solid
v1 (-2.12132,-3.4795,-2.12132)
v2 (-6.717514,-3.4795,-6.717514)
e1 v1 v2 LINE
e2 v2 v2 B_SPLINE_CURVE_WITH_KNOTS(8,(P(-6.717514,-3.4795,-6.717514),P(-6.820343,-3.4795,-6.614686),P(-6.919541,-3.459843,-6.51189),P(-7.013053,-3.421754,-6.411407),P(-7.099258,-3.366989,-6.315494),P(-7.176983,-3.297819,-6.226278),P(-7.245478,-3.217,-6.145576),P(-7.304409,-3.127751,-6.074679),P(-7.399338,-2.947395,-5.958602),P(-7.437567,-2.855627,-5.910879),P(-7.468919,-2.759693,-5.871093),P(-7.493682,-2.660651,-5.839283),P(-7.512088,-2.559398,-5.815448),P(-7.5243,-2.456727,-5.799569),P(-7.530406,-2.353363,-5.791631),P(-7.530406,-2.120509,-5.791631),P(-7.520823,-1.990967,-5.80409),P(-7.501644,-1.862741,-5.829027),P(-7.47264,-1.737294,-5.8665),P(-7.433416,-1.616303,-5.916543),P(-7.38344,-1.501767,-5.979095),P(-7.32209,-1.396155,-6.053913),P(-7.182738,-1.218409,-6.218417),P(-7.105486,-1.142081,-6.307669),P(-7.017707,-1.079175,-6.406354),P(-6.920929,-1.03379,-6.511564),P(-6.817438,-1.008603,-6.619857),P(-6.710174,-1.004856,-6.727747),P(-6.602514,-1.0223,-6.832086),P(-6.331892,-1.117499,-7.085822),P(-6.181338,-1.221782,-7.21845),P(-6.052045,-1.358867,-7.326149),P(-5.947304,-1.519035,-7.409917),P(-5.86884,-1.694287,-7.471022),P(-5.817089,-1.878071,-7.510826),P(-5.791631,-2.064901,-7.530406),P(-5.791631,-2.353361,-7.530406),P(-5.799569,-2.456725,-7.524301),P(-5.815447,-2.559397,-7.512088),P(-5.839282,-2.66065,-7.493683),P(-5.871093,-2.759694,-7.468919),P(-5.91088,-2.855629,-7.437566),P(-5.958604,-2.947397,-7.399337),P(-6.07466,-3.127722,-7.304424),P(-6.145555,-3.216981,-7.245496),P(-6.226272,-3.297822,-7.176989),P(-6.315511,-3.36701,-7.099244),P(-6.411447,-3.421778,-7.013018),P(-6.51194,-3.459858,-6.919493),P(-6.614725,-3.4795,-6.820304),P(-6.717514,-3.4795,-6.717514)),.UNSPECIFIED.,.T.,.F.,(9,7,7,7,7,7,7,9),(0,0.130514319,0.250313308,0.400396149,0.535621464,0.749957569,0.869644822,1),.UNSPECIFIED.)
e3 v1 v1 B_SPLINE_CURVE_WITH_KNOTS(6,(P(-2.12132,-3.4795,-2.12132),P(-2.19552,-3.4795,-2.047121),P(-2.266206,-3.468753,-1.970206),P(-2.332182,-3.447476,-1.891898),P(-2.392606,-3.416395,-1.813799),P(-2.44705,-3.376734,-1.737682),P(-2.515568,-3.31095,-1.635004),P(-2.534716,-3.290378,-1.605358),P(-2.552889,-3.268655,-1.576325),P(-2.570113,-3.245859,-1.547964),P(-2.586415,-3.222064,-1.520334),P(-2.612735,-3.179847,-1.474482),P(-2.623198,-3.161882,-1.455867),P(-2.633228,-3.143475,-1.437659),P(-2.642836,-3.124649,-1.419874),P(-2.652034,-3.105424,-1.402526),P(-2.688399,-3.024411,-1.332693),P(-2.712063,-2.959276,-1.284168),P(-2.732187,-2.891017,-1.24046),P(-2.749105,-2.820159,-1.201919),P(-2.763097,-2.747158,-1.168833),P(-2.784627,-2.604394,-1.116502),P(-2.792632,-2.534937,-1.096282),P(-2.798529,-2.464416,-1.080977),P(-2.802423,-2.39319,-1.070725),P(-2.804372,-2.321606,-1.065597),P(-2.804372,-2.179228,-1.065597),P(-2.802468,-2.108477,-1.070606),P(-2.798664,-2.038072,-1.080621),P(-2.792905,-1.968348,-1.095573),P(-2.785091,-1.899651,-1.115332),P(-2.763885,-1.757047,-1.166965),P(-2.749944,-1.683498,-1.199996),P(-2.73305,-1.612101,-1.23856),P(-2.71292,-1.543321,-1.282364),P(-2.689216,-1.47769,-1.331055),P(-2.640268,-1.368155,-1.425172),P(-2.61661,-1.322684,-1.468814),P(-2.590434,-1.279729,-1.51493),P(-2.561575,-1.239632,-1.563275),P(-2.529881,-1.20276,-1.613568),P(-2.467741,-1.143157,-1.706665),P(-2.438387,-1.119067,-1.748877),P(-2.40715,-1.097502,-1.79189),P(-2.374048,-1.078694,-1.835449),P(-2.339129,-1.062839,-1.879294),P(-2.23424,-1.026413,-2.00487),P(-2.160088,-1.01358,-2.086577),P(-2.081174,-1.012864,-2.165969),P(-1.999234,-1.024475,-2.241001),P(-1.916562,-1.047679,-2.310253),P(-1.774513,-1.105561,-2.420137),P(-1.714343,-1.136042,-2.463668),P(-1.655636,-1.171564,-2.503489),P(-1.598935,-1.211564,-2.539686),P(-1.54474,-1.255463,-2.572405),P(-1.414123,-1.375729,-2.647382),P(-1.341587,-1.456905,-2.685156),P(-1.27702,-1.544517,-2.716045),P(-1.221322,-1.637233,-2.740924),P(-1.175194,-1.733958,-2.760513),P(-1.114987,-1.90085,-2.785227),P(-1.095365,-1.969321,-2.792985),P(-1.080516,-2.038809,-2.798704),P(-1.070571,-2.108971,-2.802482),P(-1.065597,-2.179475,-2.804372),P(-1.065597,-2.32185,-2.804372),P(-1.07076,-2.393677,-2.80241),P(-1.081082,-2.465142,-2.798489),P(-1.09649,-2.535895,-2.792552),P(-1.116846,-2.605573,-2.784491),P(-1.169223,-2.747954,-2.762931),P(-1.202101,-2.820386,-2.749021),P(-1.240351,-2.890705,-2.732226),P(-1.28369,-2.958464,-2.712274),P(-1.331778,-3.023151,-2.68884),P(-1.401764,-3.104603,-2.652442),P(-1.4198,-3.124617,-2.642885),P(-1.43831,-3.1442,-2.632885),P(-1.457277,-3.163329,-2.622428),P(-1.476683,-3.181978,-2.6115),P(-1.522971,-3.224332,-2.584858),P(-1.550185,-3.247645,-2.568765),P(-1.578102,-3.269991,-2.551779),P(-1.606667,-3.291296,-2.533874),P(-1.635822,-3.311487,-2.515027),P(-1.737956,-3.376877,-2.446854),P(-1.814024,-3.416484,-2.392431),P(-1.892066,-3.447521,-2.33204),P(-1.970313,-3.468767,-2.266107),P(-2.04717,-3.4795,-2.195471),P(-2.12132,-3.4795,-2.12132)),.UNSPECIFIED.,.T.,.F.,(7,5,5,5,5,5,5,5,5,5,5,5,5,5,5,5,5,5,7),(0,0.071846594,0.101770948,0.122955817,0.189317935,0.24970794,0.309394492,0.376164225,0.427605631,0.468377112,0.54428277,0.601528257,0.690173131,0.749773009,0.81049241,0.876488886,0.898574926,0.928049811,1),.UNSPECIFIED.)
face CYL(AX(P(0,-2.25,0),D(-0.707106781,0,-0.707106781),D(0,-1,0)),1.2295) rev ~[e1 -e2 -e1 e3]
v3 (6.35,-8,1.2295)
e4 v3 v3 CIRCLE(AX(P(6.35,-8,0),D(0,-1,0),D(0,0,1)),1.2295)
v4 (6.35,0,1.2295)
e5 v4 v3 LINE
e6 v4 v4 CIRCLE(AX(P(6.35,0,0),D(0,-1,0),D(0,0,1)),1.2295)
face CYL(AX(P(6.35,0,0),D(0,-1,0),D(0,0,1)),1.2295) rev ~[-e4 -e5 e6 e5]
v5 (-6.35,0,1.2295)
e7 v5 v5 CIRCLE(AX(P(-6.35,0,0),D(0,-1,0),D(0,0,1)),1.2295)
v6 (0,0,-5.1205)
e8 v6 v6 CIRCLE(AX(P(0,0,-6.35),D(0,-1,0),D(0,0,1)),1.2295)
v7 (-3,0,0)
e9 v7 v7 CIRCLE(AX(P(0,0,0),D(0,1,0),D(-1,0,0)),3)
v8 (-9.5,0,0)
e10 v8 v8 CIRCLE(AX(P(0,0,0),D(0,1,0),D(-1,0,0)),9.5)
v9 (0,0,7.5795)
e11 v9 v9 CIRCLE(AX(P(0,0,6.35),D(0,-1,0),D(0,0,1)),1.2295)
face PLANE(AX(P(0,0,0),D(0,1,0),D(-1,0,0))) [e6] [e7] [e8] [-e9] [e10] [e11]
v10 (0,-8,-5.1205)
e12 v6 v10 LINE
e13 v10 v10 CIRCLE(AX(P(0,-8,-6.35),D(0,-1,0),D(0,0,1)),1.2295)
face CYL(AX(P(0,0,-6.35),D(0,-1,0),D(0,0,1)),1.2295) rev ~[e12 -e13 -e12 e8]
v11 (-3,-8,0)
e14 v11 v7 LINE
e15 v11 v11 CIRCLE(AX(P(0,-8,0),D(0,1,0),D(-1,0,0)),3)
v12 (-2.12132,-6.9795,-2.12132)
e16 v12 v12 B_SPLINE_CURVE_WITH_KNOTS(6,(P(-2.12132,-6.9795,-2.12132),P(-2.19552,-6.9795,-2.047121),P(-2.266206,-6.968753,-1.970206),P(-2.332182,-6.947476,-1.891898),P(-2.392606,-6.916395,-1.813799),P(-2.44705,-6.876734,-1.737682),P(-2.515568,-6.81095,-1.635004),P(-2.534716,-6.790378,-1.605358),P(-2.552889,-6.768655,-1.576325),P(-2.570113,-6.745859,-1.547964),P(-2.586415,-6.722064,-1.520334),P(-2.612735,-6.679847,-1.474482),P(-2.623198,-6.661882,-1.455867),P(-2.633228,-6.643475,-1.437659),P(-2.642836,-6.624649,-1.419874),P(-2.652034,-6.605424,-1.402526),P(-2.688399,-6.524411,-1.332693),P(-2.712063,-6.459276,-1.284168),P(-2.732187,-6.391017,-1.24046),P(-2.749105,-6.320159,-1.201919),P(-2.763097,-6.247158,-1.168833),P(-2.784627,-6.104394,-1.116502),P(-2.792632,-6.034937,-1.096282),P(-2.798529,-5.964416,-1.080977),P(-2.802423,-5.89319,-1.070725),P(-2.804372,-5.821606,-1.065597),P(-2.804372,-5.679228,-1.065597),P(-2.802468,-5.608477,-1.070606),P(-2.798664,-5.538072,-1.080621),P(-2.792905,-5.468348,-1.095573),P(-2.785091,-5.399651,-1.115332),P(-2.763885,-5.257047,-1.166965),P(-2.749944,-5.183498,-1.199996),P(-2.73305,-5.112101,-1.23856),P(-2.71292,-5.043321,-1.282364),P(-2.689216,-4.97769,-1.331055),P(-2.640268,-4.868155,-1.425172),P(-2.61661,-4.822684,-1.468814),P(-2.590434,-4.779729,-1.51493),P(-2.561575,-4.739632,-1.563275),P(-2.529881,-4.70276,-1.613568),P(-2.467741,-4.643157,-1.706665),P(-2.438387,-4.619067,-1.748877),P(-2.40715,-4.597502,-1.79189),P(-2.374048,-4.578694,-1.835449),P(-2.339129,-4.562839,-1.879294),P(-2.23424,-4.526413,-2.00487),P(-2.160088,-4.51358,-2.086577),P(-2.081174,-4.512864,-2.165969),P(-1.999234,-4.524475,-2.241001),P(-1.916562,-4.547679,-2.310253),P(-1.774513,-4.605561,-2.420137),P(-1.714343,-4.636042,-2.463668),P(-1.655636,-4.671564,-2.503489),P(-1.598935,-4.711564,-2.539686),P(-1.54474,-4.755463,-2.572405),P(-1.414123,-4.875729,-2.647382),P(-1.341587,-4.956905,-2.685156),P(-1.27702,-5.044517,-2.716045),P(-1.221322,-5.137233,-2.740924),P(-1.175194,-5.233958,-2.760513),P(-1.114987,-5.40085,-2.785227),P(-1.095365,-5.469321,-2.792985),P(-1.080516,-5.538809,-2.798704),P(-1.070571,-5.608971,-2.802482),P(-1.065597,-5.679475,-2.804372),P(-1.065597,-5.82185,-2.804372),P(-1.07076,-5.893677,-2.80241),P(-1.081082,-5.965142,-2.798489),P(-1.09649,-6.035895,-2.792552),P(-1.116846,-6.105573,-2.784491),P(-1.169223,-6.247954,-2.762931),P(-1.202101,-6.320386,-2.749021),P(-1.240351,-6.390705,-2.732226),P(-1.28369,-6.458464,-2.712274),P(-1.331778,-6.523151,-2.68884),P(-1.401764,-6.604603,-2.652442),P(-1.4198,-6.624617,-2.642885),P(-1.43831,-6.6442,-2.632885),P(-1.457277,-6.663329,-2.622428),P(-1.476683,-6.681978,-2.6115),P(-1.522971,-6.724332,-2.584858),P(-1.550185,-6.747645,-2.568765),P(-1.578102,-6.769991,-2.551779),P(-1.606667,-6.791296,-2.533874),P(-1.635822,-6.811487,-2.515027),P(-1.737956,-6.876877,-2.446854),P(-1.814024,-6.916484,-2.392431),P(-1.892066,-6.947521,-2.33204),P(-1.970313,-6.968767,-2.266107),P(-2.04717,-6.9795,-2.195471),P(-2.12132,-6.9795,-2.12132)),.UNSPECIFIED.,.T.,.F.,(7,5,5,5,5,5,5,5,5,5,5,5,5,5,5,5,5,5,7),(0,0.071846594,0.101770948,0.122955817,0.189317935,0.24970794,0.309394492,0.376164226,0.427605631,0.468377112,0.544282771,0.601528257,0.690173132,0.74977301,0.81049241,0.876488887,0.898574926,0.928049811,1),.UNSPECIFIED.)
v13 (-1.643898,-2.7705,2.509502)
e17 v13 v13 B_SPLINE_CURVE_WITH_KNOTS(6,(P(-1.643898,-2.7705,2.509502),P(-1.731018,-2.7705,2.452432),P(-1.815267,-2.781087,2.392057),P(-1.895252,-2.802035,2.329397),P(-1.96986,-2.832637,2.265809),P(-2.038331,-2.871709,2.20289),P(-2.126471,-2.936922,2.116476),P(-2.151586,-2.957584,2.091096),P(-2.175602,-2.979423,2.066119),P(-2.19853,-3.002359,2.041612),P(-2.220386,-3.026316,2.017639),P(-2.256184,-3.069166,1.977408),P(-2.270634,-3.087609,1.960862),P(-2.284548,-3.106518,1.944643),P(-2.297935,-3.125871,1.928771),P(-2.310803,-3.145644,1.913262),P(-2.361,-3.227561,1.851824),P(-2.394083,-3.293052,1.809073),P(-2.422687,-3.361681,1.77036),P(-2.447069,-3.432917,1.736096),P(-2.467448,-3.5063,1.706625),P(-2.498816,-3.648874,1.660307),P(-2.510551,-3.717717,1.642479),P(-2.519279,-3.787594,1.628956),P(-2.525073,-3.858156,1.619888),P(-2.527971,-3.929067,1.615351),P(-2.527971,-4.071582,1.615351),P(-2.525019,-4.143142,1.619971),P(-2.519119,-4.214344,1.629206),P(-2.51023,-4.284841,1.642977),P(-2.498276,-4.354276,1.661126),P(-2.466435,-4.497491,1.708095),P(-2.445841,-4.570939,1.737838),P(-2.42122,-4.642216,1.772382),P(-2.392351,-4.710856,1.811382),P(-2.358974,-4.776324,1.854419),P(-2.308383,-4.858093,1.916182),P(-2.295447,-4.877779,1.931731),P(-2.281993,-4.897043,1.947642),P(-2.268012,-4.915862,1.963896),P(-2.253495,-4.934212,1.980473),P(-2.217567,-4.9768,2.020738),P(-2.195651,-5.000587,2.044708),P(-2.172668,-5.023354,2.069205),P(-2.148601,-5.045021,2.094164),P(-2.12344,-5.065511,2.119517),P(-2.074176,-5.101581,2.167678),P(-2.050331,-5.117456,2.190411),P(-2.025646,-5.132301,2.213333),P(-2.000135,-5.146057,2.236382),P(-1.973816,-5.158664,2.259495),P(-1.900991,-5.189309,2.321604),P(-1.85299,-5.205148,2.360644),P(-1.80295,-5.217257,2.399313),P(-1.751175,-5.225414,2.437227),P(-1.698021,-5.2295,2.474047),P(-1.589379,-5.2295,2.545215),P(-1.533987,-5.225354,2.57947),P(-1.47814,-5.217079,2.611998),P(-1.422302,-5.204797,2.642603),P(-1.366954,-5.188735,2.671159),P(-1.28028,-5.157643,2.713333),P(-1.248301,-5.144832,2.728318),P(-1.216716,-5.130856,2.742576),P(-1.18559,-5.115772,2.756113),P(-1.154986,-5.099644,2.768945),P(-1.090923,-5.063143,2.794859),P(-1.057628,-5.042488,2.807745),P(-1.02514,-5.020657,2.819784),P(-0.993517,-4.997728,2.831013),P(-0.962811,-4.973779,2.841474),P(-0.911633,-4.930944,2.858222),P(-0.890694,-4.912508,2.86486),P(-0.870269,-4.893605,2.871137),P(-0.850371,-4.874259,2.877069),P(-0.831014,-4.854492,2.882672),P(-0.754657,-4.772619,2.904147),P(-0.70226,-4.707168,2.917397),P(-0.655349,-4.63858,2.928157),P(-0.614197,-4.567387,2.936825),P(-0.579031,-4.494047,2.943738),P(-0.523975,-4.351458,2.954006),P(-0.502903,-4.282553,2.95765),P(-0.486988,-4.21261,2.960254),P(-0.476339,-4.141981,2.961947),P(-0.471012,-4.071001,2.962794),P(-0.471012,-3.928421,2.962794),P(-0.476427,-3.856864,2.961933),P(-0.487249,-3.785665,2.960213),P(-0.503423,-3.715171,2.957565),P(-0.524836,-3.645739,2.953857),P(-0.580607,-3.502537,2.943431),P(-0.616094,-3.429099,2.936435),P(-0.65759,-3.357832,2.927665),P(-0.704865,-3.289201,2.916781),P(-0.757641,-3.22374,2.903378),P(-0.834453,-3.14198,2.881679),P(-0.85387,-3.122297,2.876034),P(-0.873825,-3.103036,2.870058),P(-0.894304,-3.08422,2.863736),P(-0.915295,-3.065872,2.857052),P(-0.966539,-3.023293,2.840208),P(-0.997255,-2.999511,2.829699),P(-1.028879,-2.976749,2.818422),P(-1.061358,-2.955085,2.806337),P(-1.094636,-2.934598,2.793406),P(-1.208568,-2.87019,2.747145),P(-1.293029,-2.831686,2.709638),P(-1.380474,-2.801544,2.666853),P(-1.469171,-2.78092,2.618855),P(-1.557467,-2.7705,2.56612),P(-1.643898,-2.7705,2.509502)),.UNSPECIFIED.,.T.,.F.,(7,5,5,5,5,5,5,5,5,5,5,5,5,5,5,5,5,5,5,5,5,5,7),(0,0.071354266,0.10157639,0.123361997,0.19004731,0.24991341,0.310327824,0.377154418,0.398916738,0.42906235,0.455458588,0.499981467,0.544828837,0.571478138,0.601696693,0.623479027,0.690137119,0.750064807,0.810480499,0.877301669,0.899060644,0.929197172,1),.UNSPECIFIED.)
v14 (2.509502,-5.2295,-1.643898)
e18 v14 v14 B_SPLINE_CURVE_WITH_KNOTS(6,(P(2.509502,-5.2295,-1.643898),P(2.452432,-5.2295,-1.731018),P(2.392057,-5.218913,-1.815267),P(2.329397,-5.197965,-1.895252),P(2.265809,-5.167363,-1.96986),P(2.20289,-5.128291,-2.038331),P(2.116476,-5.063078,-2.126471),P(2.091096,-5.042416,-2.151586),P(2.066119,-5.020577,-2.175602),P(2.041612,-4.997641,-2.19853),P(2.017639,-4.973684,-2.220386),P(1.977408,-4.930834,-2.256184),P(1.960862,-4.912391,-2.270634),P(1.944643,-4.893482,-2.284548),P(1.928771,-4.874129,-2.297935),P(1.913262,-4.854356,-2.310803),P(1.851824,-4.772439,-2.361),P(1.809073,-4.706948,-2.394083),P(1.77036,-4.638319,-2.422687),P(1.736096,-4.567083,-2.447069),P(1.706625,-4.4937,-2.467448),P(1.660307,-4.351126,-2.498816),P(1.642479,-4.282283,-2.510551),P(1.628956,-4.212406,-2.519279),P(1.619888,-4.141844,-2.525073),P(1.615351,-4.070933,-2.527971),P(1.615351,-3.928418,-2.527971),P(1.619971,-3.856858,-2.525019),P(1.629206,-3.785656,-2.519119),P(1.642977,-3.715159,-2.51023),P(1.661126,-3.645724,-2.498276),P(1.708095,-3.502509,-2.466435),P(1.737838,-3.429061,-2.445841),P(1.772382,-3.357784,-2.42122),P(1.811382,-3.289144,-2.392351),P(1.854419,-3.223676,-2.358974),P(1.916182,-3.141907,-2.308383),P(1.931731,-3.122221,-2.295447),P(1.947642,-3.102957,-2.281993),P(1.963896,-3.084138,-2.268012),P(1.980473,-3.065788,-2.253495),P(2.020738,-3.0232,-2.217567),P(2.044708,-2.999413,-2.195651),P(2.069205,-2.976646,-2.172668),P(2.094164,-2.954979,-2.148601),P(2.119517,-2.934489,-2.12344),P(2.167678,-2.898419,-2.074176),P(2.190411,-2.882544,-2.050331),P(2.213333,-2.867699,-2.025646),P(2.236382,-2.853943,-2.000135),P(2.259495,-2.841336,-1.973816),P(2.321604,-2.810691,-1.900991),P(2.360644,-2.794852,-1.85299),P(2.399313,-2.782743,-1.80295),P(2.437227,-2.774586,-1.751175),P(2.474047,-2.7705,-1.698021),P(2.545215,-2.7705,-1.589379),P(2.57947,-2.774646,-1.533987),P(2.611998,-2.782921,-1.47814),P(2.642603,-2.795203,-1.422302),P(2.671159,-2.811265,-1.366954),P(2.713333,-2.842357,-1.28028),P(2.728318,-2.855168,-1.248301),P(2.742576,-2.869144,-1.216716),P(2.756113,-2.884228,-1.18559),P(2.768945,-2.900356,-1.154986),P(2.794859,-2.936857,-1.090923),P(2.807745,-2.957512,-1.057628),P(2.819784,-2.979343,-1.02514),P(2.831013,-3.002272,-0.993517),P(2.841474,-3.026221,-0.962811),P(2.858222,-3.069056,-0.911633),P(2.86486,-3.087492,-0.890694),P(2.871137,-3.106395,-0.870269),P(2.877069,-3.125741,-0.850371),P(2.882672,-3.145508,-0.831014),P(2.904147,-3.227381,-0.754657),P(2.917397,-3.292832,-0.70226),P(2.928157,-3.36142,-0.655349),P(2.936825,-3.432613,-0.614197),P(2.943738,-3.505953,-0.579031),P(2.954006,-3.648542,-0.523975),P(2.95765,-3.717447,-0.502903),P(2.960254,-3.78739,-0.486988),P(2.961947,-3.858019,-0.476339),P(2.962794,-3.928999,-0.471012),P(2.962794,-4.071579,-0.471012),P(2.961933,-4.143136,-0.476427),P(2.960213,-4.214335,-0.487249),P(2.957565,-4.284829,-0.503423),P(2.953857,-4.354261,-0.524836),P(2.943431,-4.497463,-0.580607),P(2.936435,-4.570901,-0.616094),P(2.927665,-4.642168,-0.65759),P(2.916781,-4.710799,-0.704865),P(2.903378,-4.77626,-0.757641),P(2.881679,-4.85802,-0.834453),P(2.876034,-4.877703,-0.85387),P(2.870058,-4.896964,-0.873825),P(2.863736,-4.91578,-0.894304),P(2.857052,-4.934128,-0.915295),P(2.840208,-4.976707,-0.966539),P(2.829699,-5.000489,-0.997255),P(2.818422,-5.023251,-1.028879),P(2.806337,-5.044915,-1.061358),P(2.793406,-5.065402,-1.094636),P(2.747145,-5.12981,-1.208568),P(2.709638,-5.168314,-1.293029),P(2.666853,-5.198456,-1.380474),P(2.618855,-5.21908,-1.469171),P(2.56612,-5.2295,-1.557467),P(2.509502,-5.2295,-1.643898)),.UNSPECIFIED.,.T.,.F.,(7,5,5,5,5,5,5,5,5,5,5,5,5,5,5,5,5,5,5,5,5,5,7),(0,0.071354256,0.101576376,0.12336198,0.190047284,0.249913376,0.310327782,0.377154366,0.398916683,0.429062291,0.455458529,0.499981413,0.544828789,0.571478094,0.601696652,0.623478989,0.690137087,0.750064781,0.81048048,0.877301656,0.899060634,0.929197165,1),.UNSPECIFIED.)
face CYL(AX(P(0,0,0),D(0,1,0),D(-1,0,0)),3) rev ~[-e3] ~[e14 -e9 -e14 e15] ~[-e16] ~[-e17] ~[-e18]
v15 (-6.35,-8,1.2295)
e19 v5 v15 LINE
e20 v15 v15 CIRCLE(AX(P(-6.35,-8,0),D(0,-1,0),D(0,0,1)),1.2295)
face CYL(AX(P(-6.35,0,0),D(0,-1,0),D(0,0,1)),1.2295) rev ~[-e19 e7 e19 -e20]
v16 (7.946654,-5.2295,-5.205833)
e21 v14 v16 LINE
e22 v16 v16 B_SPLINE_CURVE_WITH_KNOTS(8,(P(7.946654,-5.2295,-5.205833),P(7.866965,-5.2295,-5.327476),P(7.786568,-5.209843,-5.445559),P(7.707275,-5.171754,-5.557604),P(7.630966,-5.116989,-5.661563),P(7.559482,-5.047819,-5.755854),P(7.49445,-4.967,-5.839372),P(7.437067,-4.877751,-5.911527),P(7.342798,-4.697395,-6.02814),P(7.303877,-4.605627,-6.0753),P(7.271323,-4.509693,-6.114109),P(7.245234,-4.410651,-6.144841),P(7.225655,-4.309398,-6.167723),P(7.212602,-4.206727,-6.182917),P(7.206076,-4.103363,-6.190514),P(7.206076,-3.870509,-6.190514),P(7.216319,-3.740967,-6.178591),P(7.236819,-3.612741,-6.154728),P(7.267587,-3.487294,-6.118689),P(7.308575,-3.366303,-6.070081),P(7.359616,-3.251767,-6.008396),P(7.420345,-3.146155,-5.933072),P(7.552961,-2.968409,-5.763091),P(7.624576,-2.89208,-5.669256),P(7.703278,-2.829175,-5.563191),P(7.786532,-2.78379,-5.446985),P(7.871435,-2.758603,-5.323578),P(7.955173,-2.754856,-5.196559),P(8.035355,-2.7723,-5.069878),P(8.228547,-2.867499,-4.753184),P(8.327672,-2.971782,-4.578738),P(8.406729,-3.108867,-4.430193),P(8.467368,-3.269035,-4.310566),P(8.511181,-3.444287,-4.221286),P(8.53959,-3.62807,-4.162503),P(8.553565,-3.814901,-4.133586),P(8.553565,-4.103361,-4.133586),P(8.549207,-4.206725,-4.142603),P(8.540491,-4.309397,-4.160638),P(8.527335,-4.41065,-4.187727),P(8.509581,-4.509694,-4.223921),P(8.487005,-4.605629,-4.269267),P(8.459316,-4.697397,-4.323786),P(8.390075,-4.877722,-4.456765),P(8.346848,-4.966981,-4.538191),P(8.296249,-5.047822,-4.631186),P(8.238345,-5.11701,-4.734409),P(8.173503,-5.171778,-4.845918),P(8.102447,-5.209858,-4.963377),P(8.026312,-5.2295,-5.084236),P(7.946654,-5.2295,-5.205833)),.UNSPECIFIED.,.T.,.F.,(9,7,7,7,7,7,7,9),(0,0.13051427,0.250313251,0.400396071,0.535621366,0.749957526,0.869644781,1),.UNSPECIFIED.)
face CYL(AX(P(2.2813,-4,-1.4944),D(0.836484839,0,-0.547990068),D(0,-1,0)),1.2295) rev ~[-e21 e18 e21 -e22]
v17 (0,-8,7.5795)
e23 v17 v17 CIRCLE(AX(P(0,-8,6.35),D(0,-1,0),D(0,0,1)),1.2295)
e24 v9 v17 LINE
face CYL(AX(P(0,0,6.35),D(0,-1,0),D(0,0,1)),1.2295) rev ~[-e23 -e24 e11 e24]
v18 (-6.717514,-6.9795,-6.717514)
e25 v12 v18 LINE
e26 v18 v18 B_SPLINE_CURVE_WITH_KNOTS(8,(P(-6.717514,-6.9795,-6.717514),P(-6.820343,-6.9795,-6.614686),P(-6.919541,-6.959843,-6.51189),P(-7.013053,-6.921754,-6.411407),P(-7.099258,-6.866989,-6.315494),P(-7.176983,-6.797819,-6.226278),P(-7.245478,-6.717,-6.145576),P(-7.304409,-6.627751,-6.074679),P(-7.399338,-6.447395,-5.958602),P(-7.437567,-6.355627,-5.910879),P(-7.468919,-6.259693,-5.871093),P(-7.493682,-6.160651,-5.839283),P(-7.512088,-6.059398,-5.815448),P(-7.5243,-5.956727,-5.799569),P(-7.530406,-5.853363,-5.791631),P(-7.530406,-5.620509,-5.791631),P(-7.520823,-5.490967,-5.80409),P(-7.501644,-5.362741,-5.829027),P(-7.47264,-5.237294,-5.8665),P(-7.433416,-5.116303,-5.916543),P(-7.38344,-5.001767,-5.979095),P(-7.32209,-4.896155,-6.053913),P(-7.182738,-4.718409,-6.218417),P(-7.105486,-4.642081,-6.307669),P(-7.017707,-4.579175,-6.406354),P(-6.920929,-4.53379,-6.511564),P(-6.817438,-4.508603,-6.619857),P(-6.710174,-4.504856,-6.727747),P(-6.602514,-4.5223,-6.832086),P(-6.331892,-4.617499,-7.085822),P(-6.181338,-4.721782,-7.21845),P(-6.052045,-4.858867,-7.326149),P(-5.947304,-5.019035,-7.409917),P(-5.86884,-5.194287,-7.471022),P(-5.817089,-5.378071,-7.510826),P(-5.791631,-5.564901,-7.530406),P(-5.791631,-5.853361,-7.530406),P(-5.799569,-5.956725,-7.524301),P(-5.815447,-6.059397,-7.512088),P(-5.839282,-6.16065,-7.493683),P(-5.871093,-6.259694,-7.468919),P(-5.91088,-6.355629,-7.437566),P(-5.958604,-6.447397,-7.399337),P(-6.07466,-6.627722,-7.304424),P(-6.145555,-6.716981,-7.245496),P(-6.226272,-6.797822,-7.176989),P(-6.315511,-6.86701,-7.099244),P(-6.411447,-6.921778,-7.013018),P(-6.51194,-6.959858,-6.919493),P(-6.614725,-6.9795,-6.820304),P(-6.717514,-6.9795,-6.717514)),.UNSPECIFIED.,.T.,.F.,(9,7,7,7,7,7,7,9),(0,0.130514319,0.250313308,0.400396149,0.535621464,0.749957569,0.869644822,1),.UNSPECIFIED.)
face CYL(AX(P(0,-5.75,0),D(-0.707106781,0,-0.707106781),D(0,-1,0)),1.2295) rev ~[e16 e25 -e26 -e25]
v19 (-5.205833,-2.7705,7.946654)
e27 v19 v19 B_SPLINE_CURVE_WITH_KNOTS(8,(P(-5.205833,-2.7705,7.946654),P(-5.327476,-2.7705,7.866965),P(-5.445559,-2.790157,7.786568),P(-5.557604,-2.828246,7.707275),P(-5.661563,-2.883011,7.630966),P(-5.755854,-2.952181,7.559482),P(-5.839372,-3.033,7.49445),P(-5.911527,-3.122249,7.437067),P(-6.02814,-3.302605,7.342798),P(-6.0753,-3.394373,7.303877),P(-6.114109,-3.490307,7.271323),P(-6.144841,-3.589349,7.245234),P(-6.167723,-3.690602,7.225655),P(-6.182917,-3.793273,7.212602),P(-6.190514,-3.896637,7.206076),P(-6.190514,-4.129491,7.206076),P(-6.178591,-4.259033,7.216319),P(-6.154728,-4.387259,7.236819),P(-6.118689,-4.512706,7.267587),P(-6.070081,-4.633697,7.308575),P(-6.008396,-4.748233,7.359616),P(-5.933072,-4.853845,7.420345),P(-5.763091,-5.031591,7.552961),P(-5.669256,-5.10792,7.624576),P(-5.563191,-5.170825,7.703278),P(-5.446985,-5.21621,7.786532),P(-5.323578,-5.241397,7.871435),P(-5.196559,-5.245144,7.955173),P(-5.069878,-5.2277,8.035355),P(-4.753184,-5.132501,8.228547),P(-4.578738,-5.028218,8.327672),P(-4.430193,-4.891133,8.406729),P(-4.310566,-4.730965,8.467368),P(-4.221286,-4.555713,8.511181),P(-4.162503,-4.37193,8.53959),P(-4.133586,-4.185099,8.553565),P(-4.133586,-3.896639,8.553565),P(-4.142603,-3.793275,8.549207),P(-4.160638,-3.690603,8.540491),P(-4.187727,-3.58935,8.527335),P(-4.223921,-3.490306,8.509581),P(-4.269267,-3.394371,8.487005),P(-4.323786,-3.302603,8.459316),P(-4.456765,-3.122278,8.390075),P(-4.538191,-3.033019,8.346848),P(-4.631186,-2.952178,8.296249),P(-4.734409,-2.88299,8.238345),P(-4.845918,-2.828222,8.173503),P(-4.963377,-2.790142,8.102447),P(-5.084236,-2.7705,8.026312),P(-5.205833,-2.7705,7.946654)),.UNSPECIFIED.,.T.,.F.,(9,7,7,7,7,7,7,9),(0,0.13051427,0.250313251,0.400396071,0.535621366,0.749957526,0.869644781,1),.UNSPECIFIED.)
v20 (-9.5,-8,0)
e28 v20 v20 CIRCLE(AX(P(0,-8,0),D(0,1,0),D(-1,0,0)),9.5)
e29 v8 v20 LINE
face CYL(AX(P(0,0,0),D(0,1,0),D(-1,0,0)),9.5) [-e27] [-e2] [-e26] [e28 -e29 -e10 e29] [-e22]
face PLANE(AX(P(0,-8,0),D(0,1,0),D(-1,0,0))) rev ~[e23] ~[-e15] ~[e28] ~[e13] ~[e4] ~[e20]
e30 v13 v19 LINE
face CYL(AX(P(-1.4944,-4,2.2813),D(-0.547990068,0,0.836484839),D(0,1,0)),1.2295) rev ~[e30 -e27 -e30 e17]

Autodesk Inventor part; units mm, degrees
sketch "Sketch1" plane through (0, 0, 0) normal (0, 1, 0) x (-1, 0, 0)
  circle A0 centre (0, 0) radius 15 construction
  circle A1 centre (0, 0) radius 9.5
  circle A2 centre (0, 0) radius 3
  circle A3 centre (0, 0) radius 6.35 construction
  circle A4 centre (6.35, 0) radius 3 construction
  line L0 (6.35, 0) -> (0, 0) construction
  circle A5 centre (6.35, 0) radius 2.5 construction
  circle A6 centre (0, 6.35) radius 2.5 construction
  circle A7 centre (0, 6.35) radius 3 construction
  circle A8 centre (-6.35, 0) radius 2.5 construction
  circle A9 centre (-6.35, 0) radius 3 construction
  circle A10 centre (0, -6.35) radius 2.5 construction
  circle A11 centre (0, -6.35) radius 3 construction
  point P0 (-1.9685, -4.5962)
  point P1 (-3.7402, -8.7328)
  point P2 (-4.5962, -1.9685)
  point P3 (-8.7328, -3.7402)
  point P4 (-4.5962, 1.9685)
  point P5 (-8.7328, 3.7402)
  point P6 (-1.9685, 4.5962)
  point P7 (-3.7402, 8.7328)
  point P8 (3.7402, 8.7328)
  point P9 (1.9685, 4.5962)
  point P10 (4.5962, 1.9685)
  point P11 (8.7328, 3.7402)
  point P12 (4.5962, -1.9685)
  point P13 (8.7328, -3.7402)
  point P14 (1.9685, -4.5962)
  point P15 (3.7402, -8.7328)
  dimension "d2" = 19
  dimension "d4" = 12.7
  dimension "d0" = 30
  dimension "d1" = 5.5
  dimension "d3" = 6
  dimension "d5" = 6
  dimension "d6" = 5
  dimension "d9" = 360
extrude "Extrusion1" add sketch "Sketch1" against normal blind 1
extrude "Extrusion2" add sketch "Sketch1" against normal blind 8
hole "Hole1" at (-6.35, 0, 0) at (0, 0, -6.35) at (6.35, 0, 0) at (0, 0, 6.35) direction (0, -1, 0) diameter 2.459 depth 20 thread size "M3x0.5" class "6H" standard "ISO Metric profile"
ref_plane "Work Plane4" through (0, 0, 0) normal (0.7071, 0, 0.7071) x (0, 1, 0)
sketch "Sketch8" plane through (0, 0, 0) normal (0.7071, 0, 0.7071) x (0, 1, 0)
  line L0 (-8, -3) -> (-8, 3) construction
  line L1 (0, 3) -> (0, -3) construction
  line L2 (-8, -3) -> (0, -3) construction
  line L3 (-8, 3) -> (0, 3) construction
  line L4 (0, 0) -> (-8, 0) construction
  circle A0 centre (-2.25, 0) radius 1.25
  circle A1 centre (-5.75, 0) radius 1.25
  dimension "d92" = 2.5
  dimension "d93" = 2.5
  dimension "d94" = 1
  dimension "d95" = 1
  dimension "d96" = 1
hole "Hole9" at (0, -2.25, 0) at (0, -5.75, 0) direction (-0.7071, 0, -0.7071) diameter 2.459 depth 20 thread size "M3x0.5" class "6H" standard "ISO Metric profile"
sketch "Sketch9" plane through (0, 0, 0) normal (0, 1, 0) x (1, 0, 0)
  circle A0 centre (0, -6.35) radius 1.2295 projected
  circle A1 centre (6.35, 0) radius 1.2295 projected
  circle A2 centre (0, 6.35) radius 1.2295 projected
  circle A3 centre (-6.35, 0) radius 1.2295 projected
  circle A4 centre (0, 0) radius 9.5 projected
  circle A5 centre (0, 0) radius 3 projected
  line L0 (0, 0) -> (7.9468, 5.2056) construction
  line L1 (0, 0) -> (-5.2056, -7.9468) construction
  circle A6 centre (0, 0) radius 3 projected
  line L2 (2.9663, 0.4487) -> (8.5627, 4.1147)
  line L3 (1.5964, 2.54) -> (7.1928, 6.2059)
  line L4 (-2.54, -1.5964) -> (-6.2059, -7.1928)
  line L5 (-4.1147, -8.5627) -> (-0.4487, -2.9663)
  line L6 (1.5964, 2.54) -> (2.9663, 0.4487)
  line L7 (-0.4487, -2.9663) -> (-2.54, -1.5964)
  dimension "d97" = 1.25
  dimension "d98" = 1.25
  dimension "d99" = 1.25
  dimension "d100" = 1.25
  dimension "d101" = 1
  dimension "d102" = 1
ref_plane "Work Plane5" through (1.5964, 0, -2.54) normal (0.8365, 0, -0.548) x (0.548, 0, 0.8365)
ref_plane "Work Plane6" through (-0.4487, 0, 2.9663) normal (-0.548, 0, 0.8365) x (-0.8365, 0, -0.548)
sketch "Sketch10" plane through (1.5964, 0, -2.54) normal (0.8365, 0, -0.548) x (0.548, 0, 0.8365)
  line L0 (-1.75, 8) -> (4.25, 8) projected
  line L1 (4.25, 0) -> (-1.75, 0) projected
  line L2 (4.25, 0) -> (-1.75, 0) projected
  line L3 (4.25, 0) -> (-1.75, 8)
  line L4 (-1.75, 8) -> (4.25, 8) projected
  line L5 (4.25, 8) -> (-1.75, 0)
  point P0 (1.25, 0)
  point P1 (-1.178, 5.75)
  point P2 (-1.178, 2.25)
  point P3 (1.25, 4)
hole "Hole10" at (2.2813, -4, -1.4944) direction (0.8365, 0, -0.548) diameter 2.459 depth 20 thread size "M3x0.5" class "6H" standard "ISO Metric profile"
sketch "Sketch11" plane through (-0.4487, 0, 2.9663) normal (-0.548, 0, 0.8365) x (-0.8365, 0, -0.548)
  line L0 (-1.75, 8) -> (4.25, 8) construction
  line L1 (4.25, 0) -> (-1.75, 0) construction
  line L2 (4.25, 0) -> (-1.75, 8) construction
  line L3 (4.25, 8) -> (-1.75, 0) construction
  point P0 (1.25, 0)
  point P1 (-0.9703, 4)
  point P2 (4.1798, 5.75)
  point P3 (4.1798, 2.25)
  point P4 (1.25, 4)
hole "Hole11" at (-1.4944, -4, 2.2813) direction (-0.548, 0, 0.8365) diameter 2.459 depth 20 thread size "M3x0.5" class "6H" standard "ISO Metric profile"
equation "\"d93\" = d92"
equation "\"d94\" = d96"
equation "\"d95\" = d96"
equation "\"d98\" = d97"
equation "\"d99\" = d97"
equation "\"d100\" = d97"
equation "\"d102\" = d101"
properties part number "DiyHub" material "Steel, Alloy"
